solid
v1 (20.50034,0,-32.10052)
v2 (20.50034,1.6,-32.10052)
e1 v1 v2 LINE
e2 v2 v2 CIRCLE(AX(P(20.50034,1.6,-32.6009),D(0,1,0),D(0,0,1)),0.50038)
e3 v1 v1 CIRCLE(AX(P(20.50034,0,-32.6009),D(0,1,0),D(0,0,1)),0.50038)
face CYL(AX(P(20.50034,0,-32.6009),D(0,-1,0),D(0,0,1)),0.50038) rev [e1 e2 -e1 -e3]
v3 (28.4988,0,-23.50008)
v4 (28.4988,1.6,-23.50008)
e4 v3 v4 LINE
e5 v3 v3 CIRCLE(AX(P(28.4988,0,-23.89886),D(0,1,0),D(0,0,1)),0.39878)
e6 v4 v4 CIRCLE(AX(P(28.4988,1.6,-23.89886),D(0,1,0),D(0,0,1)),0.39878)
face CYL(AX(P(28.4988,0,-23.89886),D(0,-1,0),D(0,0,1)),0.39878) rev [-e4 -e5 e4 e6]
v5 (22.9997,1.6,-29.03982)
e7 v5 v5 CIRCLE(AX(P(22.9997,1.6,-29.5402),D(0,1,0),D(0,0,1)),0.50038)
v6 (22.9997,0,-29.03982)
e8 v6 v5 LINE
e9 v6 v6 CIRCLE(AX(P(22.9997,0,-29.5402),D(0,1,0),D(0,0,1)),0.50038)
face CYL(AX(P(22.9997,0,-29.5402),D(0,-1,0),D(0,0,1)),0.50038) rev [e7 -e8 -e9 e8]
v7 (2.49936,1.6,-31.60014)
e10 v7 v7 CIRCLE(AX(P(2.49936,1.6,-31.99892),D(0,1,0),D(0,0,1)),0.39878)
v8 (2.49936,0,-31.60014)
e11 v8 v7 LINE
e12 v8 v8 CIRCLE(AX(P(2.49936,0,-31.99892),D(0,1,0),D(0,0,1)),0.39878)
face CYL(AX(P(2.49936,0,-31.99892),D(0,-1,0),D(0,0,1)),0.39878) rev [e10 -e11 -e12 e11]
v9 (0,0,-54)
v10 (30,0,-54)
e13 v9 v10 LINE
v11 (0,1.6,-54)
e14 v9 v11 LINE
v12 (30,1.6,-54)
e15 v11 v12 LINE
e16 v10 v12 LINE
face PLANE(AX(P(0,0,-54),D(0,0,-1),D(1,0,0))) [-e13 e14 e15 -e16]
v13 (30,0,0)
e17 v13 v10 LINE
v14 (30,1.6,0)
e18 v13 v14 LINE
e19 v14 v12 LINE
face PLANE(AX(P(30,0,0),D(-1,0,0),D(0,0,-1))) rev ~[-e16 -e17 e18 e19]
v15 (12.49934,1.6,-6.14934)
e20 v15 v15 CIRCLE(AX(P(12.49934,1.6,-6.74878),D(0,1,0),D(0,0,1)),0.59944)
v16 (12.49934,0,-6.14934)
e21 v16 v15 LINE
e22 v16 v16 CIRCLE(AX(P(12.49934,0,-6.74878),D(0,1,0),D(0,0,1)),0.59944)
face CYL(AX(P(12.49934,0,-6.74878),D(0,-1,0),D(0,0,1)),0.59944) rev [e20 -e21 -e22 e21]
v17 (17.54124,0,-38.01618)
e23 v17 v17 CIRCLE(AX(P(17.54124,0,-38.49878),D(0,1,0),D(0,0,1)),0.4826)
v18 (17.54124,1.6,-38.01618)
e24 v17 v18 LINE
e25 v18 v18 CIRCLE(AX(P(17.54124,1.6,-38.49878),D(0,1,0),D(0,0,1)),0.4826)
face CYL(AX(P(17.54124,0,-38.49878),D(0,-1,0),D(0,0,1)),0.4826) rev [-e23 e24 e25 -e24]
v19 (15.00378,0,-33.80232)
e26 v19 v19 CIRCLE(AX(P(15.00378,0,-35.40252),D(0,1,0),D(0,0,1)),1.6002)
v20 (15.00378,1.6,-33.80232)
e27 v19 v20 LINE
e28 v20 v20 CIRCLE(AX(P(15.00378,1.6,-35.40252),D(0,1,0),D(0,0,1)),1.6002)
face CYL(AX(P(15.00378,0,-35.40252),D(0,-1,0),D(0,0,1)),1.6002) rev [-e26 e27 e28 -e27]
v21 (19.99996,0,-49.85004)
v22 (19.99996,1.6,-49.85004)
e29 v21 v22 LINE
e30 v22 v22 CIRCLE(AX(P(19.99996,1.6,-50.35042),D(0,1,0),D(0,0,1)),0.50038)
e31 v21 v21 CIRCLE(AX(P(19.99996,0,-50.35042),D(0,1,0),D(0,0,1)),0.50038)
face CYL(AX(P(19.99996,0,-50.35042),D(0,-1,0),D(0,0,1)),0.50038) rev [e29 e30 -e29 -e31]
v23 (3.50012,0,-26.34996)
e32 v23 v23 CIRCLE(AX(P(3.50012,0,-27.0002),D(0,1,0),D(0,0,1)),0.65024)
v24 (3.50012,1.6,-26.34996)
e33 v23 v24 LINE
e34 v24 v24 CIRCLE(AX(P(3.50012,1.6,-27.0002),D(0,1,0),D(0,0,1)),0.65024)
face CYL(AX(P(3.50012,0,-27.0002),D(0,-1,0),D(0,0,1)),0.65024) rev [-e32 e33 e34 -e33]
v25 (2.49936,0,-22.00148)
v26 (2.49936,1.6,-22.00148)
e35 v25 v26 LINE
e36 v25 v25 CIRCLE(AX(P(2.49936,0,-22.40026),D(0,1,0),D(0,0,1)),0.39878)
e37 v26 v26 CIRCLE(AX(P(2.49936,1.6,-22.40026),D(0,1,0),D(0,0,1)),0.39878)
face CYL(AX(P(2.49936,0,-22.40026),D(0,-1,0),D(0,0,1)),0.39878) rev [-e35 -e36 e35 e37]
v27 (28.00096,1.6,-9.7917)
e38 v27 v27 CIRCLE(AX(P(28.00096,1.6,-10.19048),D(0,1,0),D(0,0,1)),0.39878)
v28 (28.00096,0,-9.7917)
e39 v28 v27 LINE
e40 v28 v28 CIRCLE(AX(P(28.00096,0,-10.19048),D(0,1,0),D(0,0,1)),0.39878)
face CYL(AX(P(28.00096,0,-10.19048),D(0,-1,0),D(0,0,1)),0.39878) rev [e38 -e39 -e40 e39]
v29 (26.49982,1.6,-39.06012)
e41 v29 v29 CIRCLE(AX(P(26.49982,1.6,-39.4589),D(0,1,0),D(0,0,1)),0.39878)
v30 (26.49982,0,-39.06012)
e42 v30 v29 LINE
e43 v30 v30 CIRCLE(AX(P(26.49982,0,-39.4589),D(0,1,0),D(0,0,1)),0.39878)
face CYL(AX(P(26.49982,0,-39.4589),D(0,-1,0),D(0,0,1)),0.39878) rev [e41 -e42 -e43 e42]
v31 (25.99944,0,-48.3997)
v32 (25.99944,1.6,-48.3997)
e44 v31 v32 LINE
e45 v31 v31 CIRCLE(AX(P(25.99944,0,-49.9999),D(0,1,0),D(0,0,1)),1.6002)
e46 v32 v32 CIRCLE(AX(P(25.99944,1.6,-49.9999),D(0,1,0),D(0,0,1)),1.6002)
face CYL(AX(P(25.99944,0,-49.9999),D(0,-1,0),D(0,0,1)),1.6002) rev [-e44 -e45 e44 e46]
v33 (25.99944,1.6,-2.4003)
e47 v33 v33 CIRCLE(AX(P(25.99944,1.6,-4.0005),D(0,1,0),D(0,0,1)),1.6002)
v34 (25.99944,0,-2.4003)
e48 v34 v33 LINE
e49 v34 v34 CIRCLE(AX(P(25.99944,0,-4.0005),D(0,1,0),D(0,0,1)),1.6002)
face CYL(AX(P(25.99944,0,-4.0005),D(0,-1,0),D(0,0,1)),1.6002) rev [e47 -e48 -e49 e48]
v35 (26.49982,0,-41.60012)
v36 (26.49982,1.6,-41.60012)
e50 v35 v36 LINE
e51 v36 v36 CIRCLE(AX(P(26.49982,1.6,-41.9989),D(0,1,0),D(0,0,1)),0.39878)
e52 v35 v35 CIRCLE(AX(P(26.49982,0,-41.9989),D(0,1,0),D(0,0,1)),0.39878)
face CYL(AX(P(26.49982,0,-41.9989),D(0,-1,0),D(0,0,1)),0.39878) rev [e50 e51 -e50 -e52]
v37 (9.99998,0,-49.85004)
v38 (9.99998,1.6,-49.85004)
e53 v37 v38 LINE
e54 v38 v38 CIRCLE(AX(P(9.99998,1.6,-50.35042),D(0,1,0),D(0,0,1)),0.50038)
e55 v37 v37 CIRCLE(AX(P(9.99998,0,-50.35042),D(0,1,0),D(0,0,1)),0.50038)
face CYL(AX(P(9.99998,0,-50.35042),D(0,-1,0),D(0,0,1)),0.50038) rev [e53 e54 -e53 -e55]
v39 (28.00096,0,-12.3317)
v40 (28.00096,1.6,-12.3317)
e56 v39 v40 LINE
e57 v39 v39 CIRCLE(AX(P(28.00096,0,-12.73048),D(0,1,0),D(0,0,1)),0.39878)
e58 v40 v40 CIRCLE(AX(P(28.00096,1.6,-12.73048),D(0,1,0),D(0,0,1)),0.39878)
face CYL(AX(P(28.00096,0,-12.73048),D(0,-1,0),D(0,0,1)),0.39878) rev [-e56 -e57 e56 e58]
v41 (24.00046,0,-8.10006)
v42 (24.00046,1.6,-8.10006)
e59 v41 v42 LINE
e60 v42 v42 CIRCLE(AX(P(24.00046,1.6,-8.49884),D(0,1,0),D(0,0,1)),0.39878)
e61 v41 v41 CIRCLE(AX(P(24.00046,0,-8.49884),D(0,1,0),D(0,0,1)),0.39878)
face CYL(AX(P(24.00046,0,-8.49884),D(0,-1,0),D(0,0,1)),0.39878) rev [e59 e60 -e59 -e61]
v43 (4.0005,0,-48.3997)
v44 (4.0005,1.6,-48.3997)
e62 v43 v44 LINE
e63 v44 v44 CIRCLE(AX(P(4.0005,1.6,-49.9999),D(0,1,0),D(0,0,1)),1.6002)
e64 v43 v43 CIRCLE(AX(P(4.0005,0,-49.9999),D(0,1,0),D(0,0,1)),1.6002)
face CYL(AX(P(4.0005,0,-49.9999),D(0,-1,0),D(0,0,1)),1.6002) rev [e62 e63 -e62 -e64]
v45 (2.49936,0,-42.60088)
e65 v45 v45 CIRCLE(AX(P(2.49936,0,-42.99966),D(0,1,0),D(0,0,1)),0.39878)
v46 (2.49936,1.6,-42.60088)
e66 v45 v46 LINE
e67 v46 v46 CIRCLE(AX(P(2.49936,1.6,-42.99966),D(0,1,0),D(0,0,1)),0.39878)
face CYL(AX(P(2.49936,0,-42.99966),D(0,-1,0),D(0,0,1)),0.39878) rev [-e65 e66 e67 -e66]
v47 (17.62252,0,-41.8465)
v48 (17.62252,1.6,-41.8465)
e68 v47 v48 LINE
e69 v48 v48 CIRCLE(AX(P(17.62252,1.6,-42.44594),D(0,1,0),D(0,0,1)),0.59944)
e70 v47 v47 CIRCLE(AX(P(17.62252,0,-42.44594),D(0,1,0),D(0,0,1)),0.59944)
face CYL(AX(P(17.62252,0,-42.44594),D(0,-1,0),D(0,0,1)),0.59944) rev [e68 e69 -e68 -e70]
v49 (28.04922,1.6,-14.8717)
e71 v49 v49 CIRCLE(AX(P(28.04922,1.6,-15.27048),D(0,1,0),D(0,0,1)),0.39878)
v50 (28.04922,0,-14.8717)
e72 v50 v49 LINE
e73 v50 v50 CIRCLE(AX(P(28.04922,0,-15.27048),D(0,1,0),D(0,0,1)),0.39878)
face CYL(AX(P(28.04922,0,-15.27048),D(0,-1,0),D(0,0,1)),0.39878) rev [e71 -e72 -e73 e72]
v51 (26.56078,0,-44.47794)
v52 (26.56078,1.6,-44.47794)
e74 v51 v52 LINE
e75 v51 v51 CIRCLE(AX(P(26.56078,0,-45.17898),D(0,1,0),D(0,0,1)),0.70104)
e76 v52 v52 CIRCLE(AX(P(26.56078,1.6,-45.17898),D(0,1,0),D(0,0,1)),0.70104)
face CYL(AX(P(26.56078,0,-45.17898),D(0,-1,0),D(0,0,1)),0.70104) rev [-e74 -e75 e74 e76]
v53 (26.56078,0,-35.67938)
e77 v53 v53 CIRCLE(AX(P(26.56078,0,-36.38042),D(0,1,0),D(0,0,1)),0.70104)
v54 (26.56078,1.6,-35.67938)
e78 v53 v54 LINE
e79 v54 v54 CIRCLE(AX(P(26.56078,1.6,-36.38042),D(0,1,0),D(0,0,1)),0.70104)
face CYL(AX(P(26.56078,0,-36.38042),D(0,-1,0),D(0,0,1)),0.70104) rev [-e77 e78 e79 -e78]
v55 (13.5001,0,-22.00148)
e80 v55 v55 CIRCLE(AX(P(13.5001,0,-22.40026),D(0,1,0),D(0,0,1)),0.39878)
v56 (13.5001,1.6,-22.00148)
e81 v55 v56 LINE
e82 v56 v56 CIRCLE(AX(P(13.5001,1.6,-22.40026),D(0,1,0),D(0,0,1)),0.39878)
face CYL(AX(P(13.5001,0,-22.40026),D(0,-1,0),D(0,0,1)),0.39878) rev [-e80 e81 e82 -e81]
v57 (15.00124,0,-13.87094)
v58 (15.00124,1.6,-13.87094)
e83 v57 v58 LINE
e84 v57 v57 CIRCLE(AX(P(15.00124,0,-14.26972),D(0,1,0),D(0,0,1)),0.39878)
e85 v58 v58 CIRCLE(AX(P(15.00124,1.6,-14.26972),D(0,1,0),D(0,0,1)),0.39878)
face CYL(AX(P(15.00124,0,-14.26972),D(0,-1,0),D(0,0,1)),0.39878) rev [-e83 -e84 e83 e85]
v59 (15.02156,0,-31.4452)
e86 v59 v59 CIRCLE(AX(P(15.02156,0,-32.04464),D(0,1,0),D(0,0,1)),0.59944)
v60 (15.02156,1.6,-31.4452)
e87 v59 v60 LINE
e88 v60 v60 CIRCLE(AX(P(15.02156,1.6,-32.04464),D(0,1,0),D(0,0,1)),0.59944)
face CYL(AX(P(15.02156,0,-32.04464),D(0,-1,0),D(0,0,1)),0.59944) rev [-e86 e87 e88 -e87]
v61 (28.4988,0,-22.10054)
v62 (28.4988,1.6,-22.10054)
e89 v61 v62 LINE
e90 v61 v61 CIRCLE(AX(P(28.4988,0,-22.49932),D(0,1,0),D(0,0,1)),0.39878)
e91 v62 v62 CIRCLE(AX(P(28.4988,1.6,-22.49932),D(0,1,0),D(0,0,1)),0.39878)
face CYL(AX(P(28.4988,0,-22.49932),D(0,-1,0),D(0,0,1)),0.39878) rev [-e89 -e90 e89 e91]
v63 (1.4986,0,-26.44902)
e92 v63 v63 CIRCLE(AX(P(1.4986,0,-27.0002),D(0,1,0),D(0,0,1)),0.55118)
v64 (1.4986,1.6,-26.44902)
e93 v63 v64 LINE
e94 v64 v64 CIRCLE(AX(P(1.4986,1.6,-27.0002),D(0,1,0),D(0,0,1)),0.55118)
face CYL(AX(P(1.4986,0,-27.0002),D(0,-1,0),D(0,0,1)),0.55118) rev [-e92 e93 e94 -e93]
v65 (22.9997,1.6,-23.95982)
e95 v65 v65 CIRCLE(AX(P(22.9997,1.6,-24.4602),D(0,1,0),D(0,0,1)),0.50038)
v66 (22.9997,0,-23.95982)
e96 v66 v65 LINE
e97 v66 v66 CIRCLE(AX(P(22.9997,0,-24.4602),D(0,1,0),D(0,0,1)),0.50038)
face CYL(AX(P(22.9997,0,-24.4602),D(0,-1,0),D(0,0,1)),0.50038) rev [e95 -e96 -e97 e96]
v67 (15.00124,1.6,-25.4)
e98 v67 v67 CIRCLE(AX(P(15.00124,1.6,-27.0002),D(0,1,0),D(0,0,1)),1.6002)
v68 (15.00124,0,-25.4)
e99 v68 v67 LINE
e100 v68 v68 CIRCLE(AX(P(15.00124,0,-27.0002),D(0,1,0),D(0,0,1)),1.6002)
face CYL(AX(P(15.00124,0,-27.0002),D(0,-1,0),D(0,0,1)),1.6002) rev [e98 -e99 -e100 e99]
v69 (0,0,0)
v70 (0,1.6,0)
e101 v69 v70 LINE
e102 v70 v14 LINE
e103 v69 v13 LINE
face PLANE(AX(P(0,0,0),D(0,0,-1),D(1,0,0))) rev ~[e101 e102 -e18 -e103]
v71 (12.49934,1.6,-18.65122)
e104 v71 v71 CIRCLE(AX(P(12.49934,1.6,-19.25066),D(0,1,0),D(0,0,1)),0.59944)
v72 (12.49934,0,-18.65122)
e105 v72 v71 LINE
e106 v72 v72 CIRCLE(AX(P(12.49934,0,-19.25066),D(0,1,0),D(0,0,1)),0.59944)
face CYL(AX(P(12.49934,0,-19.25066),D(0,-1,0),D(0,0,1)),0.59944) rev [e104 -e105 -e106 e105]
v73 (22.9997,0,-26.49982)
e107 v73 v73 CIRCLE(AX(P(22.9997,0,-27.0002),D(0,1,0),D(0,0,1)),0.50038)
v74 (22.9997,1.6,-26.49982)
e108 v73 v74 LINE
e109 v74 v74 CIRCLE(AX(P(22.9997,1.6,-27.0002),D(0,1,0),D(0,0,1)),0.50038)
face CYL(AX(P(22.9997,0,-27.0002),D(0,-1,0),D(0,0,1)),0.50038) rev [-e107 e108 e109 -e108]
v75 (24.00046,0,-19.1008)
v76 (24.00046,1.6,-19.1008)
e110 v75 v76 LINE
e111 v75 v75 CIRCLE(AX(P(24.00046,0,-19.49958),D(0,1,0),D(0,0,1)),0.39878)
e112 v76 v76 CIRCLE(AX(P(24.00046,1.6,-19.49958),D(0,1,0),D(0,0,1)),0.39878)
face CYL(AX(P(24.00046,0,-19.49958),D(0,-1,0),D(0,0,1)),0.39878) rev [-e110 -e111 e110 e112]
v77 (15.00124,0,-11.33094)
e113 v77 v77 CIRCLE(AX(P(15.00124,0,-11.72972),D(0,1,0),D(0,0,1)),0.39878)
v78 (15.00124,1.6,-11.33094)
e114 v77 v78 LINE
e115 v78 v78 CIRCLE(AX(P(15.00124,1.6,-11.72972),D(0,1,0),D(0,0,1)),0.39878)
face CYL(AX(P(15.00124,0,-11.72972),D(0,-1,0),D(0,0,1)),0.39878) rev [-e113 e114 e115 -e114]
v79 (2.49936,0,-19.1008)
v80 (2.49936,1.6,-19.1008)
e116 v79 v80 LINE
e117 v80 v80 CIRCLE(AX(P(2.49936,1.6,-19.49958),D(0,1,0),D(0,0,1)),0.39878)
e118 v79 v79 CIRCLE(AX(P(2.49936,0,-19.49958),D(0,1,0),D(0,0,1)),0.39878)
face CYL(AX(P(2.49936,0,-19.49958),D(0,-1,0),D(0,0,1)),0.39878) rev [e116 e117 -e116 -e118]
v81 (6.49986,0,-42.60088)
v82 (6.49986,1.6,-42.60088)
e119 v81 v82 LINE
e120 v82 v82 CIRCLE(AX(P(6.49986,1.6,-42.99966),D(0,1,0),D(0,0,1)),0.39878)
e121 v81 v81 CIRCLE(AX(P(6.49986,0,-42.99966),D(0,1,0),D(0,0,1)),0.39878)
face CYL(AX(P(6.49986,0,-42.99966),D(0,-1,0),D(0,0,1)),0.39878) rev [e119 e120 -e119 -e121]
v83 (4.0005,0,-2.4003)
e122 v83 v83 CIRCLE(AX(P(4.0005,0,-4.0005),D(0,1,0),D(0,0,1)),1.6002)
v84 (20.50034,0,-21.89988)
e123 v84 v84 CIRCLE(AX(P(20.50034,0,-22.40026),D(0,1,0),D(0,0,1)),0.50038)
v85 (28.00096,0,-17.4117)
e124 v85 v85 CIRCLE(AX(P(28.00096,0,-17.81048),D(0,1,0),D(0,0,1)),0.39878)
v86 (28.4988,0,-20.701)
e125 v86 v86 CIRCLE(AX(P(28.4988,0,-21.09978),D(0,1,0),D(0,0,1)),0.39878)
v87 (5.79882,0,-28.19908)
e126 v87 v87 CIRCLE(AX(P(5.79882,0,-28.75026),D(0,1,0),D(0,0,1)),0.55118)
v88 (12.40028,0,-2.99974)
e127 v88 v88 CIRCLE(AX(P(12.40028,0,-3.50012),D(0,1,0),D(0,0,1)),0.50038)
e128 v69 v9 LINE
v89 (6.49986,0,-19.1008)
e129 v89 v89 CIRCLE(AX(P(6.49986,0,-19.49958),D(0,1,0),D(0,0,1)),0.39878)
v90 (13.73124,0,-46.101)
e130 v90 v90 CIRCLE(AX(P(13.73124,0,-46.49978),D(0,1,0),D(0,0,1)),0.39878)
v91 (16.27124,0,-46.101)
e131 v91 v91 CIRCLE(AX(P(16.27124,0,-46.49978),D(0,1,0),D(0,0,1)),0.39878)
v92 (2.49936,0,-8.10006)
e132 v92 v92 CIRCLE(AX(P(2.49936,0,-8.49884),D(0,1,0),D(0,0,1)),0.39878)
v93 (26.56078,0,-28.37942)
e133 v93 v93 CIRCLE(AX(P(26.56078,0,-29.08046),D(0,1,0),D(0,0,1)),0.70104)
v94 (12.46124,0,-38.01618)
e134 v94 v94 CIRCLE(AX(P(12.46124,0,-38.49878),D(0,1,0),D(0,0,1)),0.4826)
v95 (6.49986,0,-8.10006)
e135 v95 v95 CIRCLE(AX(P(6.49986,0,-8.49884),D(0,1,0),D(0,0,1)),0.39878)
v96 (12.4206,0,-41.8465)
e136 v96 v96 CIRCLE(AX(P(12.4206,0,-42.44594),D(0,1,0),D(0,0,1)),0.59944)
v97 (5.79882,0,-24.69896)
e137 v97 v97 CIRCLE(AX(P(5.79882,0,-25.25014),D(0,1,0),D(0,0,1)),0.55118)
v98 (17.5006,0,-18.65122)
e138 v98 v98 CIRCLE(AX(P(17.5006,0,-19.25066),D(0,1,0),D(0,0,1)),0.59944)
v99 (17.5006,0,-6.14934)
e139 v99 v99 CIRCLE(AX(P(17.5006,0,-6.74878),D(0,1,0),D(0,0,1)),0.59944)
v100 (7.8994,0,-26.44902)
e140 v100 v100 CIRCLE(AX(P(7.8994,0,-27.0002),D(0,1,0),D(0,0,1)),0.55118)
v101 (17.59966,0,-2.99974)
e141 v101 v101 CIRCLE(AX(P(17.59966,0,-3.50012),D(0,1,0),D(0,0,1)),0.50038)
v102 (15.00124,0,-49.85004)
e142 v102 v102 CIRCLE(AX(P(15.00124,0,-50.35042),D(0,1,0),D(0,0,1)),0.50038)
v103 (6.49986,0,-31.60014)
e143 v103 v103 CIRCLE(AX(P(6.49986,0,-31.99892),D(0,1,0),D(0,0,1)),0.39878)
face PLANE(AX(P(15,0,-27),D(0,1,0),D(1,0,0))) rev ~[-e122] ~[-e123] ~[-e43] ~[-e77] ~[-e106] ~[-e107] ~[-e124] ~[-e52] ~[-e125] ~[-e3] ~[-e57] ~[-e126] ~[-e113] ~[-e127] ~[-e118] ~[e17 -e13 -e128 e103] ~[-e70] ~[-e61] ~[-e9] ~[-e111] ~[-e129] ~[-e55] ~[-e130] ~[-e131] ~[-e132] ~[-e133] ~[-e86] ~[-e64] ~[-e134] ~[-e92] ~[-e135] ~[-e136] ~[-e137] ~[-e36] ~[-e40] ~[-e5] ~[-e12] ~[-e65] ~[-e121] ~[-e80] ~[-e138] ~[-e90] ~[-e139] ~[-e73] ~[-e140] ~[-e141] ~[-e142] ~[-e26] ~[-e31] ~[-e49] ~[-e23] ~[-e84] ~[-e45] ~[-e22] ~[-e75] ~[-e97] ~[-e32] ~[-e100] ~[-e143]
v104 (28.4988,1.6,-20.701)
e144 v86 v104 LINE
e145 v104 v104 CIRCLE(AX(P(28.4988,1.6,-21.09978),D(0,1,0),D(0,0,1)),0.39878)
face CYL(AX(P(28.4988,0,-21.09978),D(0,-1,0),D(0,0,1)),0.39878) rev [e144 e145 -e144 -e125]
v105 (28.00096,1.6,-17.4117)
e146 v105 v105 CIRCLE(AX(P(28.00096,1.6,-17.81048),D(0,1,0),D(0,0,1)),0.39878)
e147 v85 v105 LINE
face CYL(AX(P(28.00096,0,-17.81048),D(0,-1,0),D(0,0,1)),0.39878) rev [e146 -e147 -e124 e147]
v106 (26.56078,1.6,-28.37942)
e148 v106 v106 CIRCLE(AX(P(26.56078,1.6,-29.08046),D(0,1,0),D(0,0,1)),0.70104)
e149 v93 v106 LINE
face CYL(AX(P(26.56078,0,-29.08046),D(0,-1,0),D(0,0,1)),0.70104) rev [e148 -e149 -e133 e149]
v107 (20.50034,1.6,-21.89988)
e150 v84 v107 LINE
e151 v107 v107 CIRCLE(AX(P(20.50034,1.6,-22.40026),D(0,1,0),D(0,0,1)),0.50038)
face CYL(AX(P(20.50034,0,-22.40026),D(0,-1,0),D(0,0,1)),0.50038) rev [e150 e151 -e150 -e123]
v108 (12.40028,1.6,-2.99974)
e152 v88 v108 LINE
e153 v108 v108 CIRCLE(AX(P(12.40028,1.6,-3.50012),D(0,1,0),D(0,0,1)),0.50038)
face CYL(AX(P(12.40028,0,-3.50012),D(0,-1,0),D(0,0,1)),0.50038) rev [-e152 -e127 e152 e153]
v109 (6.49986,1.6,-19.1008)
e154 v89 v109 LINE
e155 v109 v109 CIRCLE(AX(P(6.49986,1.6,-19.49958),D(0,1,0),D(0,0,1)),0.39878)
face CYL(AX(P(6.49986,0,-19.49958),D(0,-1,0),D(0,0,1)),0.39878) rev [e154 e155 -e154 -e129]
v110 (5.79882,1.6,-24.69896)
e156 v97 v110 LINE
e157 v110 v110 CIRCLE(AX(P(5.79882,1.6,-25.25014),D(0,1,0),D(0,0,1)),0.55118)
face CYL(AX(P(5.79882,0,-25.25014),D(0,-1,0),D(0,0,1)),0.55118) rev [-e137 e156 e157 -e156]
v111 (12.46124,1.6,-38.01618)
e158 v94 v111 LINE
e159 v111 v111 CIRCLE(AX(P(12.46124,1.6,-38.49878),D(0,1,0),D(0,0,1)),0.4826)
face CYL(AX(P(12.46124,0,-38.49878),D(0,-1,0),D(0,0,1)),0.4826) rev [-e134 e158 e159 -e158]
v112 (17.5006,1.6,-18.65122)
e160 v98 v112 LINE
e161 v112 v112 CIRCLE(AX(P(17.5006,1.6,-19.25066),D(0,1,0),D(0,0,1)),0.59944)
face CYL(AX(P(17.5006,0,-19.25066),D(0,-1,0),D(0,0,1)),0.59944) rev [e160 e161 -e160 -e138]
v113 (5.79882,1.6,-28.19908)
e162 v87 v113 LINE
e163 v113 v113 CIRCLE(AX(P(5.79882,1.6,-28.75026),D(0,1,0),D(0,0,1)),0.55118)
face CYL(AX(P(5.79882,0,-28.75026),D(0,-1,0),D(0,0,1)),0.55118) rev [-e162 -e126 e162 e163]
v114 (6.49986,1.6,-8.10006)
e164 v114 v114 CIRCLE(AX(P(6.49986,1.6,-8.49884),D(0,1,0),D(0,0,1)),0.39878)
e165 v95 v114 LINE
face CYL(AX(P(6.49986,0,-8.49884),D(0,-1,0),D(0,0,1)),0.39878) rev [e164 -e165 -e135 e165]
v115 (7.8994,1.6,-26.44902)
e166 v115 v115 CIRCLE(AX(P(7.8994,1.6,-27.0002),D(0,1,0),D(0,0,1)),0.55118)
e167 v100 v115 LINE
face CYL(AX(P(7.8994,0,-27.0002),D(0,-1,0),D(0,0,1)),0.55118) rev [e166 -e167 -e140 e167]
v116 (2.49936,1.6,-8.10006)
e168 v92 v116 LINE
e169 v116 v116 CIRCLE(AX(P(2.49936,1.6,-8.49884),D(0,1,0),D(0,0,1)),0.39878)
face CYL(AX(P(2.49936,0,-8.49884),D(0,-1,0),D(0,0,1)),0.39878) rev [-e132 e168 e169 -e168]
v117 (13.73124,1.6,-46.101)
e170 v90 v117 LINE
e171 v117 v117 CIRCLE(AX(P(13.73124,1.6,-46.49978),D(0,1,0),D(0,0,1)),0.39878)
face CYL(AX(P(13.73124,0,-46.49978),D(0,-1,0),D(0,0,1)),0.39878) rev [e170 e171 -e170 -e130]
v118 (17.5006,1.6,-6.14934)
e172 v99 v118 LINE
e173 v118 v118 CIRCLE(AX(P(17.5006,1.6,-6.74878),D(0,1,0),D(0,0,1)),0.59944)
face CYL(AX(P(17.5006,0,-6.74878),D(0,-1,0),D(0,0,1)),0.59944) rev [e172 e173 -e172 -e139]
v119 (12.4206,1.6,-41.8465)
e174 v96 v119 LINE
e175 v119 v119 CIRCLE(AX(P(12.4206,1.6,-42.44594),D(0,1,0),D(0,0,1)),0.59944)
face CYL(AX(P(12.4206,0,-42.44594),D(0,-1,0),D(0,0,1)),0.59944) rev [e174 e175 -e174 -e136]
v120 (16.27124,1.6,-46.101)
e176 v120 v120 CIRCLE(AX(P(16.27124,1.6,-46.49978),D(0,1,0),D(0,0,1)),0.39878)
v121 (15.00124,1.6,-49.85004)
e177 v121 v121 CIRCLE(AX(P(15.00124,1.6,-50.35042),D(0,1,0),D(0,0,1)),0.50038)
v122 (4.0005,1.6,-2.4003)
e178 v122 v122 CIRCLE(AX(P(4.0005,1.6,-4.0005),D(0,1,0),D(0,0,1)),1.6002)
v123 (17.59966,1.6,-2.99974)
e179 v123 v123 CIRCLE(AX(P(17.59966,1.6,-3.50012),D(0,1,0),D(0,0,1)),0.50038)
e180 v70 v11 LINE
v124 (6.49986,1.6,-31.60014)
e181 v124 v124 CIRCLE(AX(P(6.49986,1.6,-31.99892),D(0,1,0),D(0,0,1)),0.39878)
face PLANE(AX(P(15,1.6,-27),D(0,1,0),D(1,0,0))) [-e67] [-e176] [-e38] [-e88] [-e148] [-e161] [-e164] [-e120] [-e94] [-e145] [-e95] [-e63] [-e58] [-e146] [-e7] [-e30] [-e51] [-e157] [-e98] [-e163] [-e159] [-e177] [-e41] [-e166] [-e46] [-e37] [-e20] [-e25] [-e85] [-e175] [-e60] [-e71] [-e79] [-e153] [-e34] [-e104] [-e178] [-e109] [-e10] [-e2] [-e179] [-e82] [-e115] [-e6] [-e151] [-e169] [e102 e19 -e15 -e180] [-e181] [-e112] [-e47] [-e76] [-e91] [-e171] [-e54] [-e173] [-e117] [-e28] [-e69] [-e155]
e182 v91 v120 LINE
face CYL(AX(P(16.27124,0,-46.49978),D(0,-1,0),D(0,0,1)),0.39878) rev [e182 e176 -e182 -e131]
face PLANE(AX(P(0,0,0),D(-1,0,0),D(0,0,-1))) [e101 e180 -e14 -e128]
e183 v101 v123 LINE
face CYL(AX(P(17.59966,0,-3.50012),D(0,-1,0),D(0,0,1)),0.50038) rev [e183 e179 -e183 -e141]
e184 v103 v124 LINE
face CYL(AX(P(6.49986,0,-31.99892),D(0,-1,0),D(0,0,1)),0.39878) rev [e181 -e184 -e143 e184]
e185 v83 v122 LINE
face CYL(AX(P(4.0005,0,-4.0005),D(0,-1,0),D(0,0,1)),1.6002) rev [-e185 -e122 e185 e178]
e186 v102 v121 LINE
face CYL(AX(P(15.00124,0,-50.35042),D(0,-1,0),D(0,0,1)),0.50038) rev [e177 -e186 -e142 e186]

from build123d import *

# Parameters (mm, degrees)
ESQUISSE2_W      = 30
ESQUISSE2_H      = 54
ESQUISSE2_R      = 0.59944
ESQUISSE2_R_2    = 1.6002
ESQUISSE2_R_3    = 0.50038
ESQUISSE2_R_4    = 0.4826
ESQUISSE2_R_5    = 0.39878
ESQUISSE2_R_6    = 0.55118
ESQUISSE2_R_7    = 0.65024
ESQUISSE2_R_8    = 0.70104
EXTRUSION1_DEPTH = 1.6


with BuildPart() as part:
    # Esquisse2 → Extrusion1 (new body)
    with BuildSketch(Plane(origin=(0, 0, 0), x_dir=(1, 0, 0), z_dir=(0, 1, 0))):
        with Locations((15, 27)):
            Rectangle(ESQUISSE2_W, ESQUISSE2_H)
        with Locations(Location((17.62252, 42.44594, 0), (0, 0, 270))):  # turned: the seam where the file's is
            Circle(ESQUISSE2_R, mode=Mode.SUBTRACT)
        with Locations(Location((12.4206, 42.44594, 0), (0, 0, 270))):  # turned: the seam where the file's is
            Circle(ESQUISSE2_R, mode=Mode.SUBTRACT)
        with Locations(Location((15.02156, 32.04464, 0), (0, 0, 270))):  # turned: the seam where the file's is
            Circle(ESQUISSE2_R, mode=Mode.SUBTRACT)
        with Locations(Location((15.00378, 35.40252, 0), (0, 0, 270))):  # turned: the seam where the file's is
            Circle(ESQUISSE2_R_2, mode=Mode.SUBTRACT)
        with Locations(Location((17.59966, 3.50012, 0), (0, 0, 270))):  # turned: the seam where the file's is
            Circle(ESQUISSE2_R_3, mode=Mode.SUBTRACT)
        with Locations(Location((12.40028, 3.50012, 0), (0, 0, 270))):  # turned: the seam where the file's is
            Circle(ESQUISSE2_R_3, mode=Mode.SUBTRACT)
        with Locations(Location((15.00124, 50.35042, 0), (0, 0, 270))):  # turned: the seam where the file's is
            Circle(ESQUISSE2_R_3, mode=Mode.SUBTRACT)
        with Locations(Location((19.99996, 50.35042, 0), (0, 0, 270))):  # turned: the seam where the file's is
            Circle(ESQUISSE2_R_3, mode=Mode.SUBTRACT)
        with Locations(Location((9.99998, 50.35042, 0), (0, 0, 270))):  # turned: the seam where the file's is
            Circle(ESQUISSE2_R_3, mode=Mode.SUBTRACT)
        with Locations(Location((12.49934, 19.25066, 0), (0, 0, 270))):  # turned: the seam where the file's is
            Circle(ESQUISSE2_R, mode=Mode.SUBTRACT)
        with Locations(Location((12.49934, 6.74878, 0), (0, 0, 270))):  # turned: the seam where the file's is
            Circle(ESQUISSE2_R, mode=Mode.SUBTRACT)
        with Locations(Location((17.5006, 19.25066, 0), (0, 0, 270))):  # turned: the seam where the file's is
            Circle(ESQUISSE2_R, mode=Mode.SUBTRACT)
        with Locations(Location((17.5006, 6.74878, 0), (0, 0, 270))):  # turned: the seam where the file's is
            Circle(ESQUISSE2_R, mode=Mode.SUBTRACT)
        with Locations(Location((20.50034, 22.40026, 0), (0, 0, 270))):  # turned: the seam where the file's is
            Circle(ESQUISSE2_R_3, mode=Mode.SUBTRACT)
        with Locations(Location((20.50034, 32.6009, 0), (0, 0, 270))):  # turned: the seam where the file's is
            Circle(ESQUISSE2_R_3, mode=Mode.SUBTRACT)
        with Locations(Location((12.46124, 38.49878, 0), (0, 0, 270))):  # turned: the seam where the file's is
            Circle(ESQUISSE2_R_4, mode=Mode.SUBTRACT)
        with Locations(Location((17.54124, 38.49878, 0), (0, 0, 270))):  # turned: the seam where the file's is
            Circle(ESQUISSE2_R_4, mode=Mode.SUBTRACT)
        with Locations(Location((16.27124, 46.49978, 0), (0, 0, 270))):  # turned: the seam where the file's is
            Circle(ESQUISSE2_R_5, mode=Mode.SUBTRACT)
        with Locations(Location((13.73124, 46.49978, 0), (0, 0, 270))):  # turned: the seam where the file's is
            Circle(ESQUISSE2_R_5, mode=Mode.SUBTRACT)
        with Locations(Location((15.00124, 11.72972, 0), (0, 0, 270))):  # turned: the seam where the file's is
            Circle(ESQUISSE2_R_5, mode=Mode.SUBTRACT)
        with Locations(Location((15.00124, 14.26972, 0), (0, 0, 270))):  # turned: the seam where the file's is
            Circle(ESQUISSE2_R_5, mode=Mode.SUBTRACT)
        with Locations(Location((1.4986, 27.0002, 0), (0, 0, 270))):  # turned: the seam where the file's is
            Circle(ESQUISSE2_R_6, mode=Mode.SUBTRACT)
        with Locations(Location((7.8994, 27.0002, 0), (0, 0, 270))):  # turned: the seam where the file's is
            Circle(ESQUISSE2_R_6, mode=Mode.SUBTRACT)
        with Locations(Location((5.79882, 25.25014, 0), (0, 0, 270))):  # turned: the seam where the file's is
            Circle(ESQUISSE2_R_6, mode=Mode.SUBTRACT)
        with Locations(Location((5.79882, 28.75026, 0), (0, 0, 270))):  # turned: the seam where the file's is
            Circle(ESQUISSE2_R_6, mode=Mode.SUBTRACT)
        with Locations(Location((3.50012, 27.0002, 0), (0, 0, 270))):  # turned: the seam where the file's is
            Circle(ESQUISSE2_R_7, mode=Mode.SUBTRACT)
        with Locations(Location((4.0005, 49.9999, 0), (0, 0, 270))):  # turned: the seam where the file's is
            Circle(ESQUISSE2_R_2, mode=Mode.SUBTRACT)
        with Locations(Location((25.99944, 49.9999, 0), (0, 0, 270))):  # turned: the seam where the file's is
            Circle(ESQUISSE2_R_2, mode=Mode.SUBTRACT)
        with Locations(Location((4.0005, 4.0005, 0), (0, 0, 270))):  # turned: the seam where the file's is
            Circle(ESQUISSE2_R_2, mode=Mode.SUBTRACT)
        with Locations(Location((15.00124, 27.0002, 0), (0, 0, 270))):  # turned: the seam where the file's is
            Circle(ESQUISSE2_R_2, mode=Mode.SUBTRACT)
        with Locations(Location((25.99944, 4.0005, 0), (0, 0, 270))):  # turned: the seam where the file's is
            Circle(ESQUISSE2_R_2, mode=Mode.SUBTRACT)
        with Locations(Location((22.9997, 24.4602, 0), (0, 0, 270))):  # turned: the seam where the file's is
            Circle(ESQUISSE2_R_3, mode=Mode.SUBTRACT)
        with Locations(Location((22.9997, 27.0002, 0), (0, 0, 270))):  # turned: the seam where the file's is
            Circle(ESQUISSE2_R_3, mode=Mode.SUBTRACT)
        with Locations(Location((22.9997, 29.5402, 0), (0, 0, 270))):  # turned: the seam where the file's is
            Circle(ESQUISSE2_R_3, mode=Mode.SUBTRACT)
        with Locations(Location((28.04922, 15.27048, 0), (0, 0, 270))):  # turned: the seam where the file's is
            Circle(ESQUISSE2_R_5, mode=Mode.SUBTRACT)
        with Locations(Location((28.00096, 12.73048, 0), (0, 0, 270))):  # turned: the seam where the file's is
            Circle(ESQUISSE2_R_5, mode=Mode.SUBTRACT)
        with Locations(Location((28.00096, 10.19048, 0), (0, 0, 270))):  # turned: the seam where the file's is
            Circle(ESQUISSE2_R_5, mode=Mode.SUBTRACT)
        with Locations(Location((28.00096, 17.81048, 0), (0, 0, 270))):  # turned: the seam where the file's is
            Circle(ESQUISSE2_R_5, mode=Mode.SUBTRACT)
        with Locations(Location((26.49982, 41.9989, 0), (0, 0, 270))):  # turned: the seam where the file's is
            Circle(ESQUISSE2_R_5, mode=Mode.SUBTRACT)
        with Locations(Location((26.49982, 39.4589, 0), (0, 0, 270))):  # turned: the seam where the file's is
            Circle(ESQUISSE2_R_5, mode=Mode.SUBTRACT)
        with Locations(Location((26.56078, 45.17898, 0), (0, 0, 270))):  # turned: the seam where the file's is
            Circle(ESQUISSE2_R_8, mode=Mode.SUBTRACT)
        with Locations(Location((26.56078, 36.38042, 0), (0, 0, 270))):  # turned: the seam where the file's is
            Circle(ESQUISSE2_R_8, mode=Mode.SUBTRACT)
        with Locations(Location((26.56078, 29.08046, 0), (0, 0, 270))):  # turned: the seam where the file's is
            Circle(ESQUISSE2_R_8, mode=Mode.SUBTRACT)
        with Locations(Location((24.00046, 8.49884, 0), (0, 0, 270))):  # turned: the seam where the file's is
            Circle(ESQUISSE2_R_5, mode=Mode.SUBTRACT)
        with Locations(Location((24.00046, 19.49958, 0), (0, 0, 270))):  # turned: the seam where the file's is
            Circle(ESQUISSE2_R_5, mode=Mode.SUBTRACT)
        with Locations(Location((6.49986, 42.99966, 0), (0, 0, 270))):  # turned: the seam where the file's is
            Circle(ESQUISSE2_R_5, mode=Mode.SUBTRACT)
        with Locations(Location((6.49986, 31.99892, 0), (0, 0, 270))):  # turned: the seam where the file's is
            Circle(ESQUISSE2_R_5, mode=Mode.SUBTRACT)
        with Locations(Location((2.49936, 42.99966, 0), (0, 0, 270))):  # turned: the seam where the file's is
            Circle(ESQUISSE2_R_5, mode=Mode.SUBTRACT)
        with Locations(Location((2.49936, 31.99892, 0), (0, 0, 270))):  # turned: the seam where the file's is
            Circle(ESQUISSE2_R_5, mode=Mode.SUBTRACT)
        with Locations(Location((6.49986, 8.49884, 0), (0, 0, 270))):  # turned: the seam where the file's is
            Circle(ESQUISSE2_R_5, mode=Mode.SUBTRACT)
        with Locations(Location((6.49986, 19.49958, 0), (0, 0, 270))):  # turned: the seam where the file's is
            Circle(ESQUISSE2_R_5, mode=Mode.SUBTRACT)
        with Locations(Location((2.49936, 8.49884, 0), (0, 0, 270))):  # turned: the seam where the file's is
            Circle(ESQUISSE2_R_5, mode=Mode.SUBTRACT)
        with Locations(Location((2.49936, 19.49958, 0), (0, 0, 270))):  # turned: the seam where the file's is
            Circle(ESQUISSE2_R_5, mode=Mode.SUBTRACT)
        with Locations(Location((2.49936, 22.40026, 0), (0, 0, 270))):  # turned: the seam where the file's is
            Circle(ESQUISSE2_R_5, mode=Mode.SUBTRACT)
        with Locations(Location((13.5001, 22.40026, 0), (0, 0, 270))):  # turned: the seam where the file's is
            Circle(ESQUISSE2_R_5, mode=Mode.SUBTRACT)
        with Locations(Location((28.4988, 21.09978, 0), (0, 0, 270))):  # turned: the seam where the file's is
            Circle(ESQUISSE2_R_5, mode=Mode.SUBTRACT)
        with Locations(Location((28.4988, 22.49932, 0), (0, 0, 270))):  # turned: the seam where the file's is
            Circle(ESQUISSE2_R_5, mode=Mode.SUBTRACT)
        with Locations(Location((28.4988, 23.89886, 0), (0, 0, 270))):  # turned: the seam where the file's is
            Circle(ESQUISSE2_R_5, mode=Mode.SUBTRACT)
    extrude(amount=EXTRUSION1_DEPTH)


solid = part.part
